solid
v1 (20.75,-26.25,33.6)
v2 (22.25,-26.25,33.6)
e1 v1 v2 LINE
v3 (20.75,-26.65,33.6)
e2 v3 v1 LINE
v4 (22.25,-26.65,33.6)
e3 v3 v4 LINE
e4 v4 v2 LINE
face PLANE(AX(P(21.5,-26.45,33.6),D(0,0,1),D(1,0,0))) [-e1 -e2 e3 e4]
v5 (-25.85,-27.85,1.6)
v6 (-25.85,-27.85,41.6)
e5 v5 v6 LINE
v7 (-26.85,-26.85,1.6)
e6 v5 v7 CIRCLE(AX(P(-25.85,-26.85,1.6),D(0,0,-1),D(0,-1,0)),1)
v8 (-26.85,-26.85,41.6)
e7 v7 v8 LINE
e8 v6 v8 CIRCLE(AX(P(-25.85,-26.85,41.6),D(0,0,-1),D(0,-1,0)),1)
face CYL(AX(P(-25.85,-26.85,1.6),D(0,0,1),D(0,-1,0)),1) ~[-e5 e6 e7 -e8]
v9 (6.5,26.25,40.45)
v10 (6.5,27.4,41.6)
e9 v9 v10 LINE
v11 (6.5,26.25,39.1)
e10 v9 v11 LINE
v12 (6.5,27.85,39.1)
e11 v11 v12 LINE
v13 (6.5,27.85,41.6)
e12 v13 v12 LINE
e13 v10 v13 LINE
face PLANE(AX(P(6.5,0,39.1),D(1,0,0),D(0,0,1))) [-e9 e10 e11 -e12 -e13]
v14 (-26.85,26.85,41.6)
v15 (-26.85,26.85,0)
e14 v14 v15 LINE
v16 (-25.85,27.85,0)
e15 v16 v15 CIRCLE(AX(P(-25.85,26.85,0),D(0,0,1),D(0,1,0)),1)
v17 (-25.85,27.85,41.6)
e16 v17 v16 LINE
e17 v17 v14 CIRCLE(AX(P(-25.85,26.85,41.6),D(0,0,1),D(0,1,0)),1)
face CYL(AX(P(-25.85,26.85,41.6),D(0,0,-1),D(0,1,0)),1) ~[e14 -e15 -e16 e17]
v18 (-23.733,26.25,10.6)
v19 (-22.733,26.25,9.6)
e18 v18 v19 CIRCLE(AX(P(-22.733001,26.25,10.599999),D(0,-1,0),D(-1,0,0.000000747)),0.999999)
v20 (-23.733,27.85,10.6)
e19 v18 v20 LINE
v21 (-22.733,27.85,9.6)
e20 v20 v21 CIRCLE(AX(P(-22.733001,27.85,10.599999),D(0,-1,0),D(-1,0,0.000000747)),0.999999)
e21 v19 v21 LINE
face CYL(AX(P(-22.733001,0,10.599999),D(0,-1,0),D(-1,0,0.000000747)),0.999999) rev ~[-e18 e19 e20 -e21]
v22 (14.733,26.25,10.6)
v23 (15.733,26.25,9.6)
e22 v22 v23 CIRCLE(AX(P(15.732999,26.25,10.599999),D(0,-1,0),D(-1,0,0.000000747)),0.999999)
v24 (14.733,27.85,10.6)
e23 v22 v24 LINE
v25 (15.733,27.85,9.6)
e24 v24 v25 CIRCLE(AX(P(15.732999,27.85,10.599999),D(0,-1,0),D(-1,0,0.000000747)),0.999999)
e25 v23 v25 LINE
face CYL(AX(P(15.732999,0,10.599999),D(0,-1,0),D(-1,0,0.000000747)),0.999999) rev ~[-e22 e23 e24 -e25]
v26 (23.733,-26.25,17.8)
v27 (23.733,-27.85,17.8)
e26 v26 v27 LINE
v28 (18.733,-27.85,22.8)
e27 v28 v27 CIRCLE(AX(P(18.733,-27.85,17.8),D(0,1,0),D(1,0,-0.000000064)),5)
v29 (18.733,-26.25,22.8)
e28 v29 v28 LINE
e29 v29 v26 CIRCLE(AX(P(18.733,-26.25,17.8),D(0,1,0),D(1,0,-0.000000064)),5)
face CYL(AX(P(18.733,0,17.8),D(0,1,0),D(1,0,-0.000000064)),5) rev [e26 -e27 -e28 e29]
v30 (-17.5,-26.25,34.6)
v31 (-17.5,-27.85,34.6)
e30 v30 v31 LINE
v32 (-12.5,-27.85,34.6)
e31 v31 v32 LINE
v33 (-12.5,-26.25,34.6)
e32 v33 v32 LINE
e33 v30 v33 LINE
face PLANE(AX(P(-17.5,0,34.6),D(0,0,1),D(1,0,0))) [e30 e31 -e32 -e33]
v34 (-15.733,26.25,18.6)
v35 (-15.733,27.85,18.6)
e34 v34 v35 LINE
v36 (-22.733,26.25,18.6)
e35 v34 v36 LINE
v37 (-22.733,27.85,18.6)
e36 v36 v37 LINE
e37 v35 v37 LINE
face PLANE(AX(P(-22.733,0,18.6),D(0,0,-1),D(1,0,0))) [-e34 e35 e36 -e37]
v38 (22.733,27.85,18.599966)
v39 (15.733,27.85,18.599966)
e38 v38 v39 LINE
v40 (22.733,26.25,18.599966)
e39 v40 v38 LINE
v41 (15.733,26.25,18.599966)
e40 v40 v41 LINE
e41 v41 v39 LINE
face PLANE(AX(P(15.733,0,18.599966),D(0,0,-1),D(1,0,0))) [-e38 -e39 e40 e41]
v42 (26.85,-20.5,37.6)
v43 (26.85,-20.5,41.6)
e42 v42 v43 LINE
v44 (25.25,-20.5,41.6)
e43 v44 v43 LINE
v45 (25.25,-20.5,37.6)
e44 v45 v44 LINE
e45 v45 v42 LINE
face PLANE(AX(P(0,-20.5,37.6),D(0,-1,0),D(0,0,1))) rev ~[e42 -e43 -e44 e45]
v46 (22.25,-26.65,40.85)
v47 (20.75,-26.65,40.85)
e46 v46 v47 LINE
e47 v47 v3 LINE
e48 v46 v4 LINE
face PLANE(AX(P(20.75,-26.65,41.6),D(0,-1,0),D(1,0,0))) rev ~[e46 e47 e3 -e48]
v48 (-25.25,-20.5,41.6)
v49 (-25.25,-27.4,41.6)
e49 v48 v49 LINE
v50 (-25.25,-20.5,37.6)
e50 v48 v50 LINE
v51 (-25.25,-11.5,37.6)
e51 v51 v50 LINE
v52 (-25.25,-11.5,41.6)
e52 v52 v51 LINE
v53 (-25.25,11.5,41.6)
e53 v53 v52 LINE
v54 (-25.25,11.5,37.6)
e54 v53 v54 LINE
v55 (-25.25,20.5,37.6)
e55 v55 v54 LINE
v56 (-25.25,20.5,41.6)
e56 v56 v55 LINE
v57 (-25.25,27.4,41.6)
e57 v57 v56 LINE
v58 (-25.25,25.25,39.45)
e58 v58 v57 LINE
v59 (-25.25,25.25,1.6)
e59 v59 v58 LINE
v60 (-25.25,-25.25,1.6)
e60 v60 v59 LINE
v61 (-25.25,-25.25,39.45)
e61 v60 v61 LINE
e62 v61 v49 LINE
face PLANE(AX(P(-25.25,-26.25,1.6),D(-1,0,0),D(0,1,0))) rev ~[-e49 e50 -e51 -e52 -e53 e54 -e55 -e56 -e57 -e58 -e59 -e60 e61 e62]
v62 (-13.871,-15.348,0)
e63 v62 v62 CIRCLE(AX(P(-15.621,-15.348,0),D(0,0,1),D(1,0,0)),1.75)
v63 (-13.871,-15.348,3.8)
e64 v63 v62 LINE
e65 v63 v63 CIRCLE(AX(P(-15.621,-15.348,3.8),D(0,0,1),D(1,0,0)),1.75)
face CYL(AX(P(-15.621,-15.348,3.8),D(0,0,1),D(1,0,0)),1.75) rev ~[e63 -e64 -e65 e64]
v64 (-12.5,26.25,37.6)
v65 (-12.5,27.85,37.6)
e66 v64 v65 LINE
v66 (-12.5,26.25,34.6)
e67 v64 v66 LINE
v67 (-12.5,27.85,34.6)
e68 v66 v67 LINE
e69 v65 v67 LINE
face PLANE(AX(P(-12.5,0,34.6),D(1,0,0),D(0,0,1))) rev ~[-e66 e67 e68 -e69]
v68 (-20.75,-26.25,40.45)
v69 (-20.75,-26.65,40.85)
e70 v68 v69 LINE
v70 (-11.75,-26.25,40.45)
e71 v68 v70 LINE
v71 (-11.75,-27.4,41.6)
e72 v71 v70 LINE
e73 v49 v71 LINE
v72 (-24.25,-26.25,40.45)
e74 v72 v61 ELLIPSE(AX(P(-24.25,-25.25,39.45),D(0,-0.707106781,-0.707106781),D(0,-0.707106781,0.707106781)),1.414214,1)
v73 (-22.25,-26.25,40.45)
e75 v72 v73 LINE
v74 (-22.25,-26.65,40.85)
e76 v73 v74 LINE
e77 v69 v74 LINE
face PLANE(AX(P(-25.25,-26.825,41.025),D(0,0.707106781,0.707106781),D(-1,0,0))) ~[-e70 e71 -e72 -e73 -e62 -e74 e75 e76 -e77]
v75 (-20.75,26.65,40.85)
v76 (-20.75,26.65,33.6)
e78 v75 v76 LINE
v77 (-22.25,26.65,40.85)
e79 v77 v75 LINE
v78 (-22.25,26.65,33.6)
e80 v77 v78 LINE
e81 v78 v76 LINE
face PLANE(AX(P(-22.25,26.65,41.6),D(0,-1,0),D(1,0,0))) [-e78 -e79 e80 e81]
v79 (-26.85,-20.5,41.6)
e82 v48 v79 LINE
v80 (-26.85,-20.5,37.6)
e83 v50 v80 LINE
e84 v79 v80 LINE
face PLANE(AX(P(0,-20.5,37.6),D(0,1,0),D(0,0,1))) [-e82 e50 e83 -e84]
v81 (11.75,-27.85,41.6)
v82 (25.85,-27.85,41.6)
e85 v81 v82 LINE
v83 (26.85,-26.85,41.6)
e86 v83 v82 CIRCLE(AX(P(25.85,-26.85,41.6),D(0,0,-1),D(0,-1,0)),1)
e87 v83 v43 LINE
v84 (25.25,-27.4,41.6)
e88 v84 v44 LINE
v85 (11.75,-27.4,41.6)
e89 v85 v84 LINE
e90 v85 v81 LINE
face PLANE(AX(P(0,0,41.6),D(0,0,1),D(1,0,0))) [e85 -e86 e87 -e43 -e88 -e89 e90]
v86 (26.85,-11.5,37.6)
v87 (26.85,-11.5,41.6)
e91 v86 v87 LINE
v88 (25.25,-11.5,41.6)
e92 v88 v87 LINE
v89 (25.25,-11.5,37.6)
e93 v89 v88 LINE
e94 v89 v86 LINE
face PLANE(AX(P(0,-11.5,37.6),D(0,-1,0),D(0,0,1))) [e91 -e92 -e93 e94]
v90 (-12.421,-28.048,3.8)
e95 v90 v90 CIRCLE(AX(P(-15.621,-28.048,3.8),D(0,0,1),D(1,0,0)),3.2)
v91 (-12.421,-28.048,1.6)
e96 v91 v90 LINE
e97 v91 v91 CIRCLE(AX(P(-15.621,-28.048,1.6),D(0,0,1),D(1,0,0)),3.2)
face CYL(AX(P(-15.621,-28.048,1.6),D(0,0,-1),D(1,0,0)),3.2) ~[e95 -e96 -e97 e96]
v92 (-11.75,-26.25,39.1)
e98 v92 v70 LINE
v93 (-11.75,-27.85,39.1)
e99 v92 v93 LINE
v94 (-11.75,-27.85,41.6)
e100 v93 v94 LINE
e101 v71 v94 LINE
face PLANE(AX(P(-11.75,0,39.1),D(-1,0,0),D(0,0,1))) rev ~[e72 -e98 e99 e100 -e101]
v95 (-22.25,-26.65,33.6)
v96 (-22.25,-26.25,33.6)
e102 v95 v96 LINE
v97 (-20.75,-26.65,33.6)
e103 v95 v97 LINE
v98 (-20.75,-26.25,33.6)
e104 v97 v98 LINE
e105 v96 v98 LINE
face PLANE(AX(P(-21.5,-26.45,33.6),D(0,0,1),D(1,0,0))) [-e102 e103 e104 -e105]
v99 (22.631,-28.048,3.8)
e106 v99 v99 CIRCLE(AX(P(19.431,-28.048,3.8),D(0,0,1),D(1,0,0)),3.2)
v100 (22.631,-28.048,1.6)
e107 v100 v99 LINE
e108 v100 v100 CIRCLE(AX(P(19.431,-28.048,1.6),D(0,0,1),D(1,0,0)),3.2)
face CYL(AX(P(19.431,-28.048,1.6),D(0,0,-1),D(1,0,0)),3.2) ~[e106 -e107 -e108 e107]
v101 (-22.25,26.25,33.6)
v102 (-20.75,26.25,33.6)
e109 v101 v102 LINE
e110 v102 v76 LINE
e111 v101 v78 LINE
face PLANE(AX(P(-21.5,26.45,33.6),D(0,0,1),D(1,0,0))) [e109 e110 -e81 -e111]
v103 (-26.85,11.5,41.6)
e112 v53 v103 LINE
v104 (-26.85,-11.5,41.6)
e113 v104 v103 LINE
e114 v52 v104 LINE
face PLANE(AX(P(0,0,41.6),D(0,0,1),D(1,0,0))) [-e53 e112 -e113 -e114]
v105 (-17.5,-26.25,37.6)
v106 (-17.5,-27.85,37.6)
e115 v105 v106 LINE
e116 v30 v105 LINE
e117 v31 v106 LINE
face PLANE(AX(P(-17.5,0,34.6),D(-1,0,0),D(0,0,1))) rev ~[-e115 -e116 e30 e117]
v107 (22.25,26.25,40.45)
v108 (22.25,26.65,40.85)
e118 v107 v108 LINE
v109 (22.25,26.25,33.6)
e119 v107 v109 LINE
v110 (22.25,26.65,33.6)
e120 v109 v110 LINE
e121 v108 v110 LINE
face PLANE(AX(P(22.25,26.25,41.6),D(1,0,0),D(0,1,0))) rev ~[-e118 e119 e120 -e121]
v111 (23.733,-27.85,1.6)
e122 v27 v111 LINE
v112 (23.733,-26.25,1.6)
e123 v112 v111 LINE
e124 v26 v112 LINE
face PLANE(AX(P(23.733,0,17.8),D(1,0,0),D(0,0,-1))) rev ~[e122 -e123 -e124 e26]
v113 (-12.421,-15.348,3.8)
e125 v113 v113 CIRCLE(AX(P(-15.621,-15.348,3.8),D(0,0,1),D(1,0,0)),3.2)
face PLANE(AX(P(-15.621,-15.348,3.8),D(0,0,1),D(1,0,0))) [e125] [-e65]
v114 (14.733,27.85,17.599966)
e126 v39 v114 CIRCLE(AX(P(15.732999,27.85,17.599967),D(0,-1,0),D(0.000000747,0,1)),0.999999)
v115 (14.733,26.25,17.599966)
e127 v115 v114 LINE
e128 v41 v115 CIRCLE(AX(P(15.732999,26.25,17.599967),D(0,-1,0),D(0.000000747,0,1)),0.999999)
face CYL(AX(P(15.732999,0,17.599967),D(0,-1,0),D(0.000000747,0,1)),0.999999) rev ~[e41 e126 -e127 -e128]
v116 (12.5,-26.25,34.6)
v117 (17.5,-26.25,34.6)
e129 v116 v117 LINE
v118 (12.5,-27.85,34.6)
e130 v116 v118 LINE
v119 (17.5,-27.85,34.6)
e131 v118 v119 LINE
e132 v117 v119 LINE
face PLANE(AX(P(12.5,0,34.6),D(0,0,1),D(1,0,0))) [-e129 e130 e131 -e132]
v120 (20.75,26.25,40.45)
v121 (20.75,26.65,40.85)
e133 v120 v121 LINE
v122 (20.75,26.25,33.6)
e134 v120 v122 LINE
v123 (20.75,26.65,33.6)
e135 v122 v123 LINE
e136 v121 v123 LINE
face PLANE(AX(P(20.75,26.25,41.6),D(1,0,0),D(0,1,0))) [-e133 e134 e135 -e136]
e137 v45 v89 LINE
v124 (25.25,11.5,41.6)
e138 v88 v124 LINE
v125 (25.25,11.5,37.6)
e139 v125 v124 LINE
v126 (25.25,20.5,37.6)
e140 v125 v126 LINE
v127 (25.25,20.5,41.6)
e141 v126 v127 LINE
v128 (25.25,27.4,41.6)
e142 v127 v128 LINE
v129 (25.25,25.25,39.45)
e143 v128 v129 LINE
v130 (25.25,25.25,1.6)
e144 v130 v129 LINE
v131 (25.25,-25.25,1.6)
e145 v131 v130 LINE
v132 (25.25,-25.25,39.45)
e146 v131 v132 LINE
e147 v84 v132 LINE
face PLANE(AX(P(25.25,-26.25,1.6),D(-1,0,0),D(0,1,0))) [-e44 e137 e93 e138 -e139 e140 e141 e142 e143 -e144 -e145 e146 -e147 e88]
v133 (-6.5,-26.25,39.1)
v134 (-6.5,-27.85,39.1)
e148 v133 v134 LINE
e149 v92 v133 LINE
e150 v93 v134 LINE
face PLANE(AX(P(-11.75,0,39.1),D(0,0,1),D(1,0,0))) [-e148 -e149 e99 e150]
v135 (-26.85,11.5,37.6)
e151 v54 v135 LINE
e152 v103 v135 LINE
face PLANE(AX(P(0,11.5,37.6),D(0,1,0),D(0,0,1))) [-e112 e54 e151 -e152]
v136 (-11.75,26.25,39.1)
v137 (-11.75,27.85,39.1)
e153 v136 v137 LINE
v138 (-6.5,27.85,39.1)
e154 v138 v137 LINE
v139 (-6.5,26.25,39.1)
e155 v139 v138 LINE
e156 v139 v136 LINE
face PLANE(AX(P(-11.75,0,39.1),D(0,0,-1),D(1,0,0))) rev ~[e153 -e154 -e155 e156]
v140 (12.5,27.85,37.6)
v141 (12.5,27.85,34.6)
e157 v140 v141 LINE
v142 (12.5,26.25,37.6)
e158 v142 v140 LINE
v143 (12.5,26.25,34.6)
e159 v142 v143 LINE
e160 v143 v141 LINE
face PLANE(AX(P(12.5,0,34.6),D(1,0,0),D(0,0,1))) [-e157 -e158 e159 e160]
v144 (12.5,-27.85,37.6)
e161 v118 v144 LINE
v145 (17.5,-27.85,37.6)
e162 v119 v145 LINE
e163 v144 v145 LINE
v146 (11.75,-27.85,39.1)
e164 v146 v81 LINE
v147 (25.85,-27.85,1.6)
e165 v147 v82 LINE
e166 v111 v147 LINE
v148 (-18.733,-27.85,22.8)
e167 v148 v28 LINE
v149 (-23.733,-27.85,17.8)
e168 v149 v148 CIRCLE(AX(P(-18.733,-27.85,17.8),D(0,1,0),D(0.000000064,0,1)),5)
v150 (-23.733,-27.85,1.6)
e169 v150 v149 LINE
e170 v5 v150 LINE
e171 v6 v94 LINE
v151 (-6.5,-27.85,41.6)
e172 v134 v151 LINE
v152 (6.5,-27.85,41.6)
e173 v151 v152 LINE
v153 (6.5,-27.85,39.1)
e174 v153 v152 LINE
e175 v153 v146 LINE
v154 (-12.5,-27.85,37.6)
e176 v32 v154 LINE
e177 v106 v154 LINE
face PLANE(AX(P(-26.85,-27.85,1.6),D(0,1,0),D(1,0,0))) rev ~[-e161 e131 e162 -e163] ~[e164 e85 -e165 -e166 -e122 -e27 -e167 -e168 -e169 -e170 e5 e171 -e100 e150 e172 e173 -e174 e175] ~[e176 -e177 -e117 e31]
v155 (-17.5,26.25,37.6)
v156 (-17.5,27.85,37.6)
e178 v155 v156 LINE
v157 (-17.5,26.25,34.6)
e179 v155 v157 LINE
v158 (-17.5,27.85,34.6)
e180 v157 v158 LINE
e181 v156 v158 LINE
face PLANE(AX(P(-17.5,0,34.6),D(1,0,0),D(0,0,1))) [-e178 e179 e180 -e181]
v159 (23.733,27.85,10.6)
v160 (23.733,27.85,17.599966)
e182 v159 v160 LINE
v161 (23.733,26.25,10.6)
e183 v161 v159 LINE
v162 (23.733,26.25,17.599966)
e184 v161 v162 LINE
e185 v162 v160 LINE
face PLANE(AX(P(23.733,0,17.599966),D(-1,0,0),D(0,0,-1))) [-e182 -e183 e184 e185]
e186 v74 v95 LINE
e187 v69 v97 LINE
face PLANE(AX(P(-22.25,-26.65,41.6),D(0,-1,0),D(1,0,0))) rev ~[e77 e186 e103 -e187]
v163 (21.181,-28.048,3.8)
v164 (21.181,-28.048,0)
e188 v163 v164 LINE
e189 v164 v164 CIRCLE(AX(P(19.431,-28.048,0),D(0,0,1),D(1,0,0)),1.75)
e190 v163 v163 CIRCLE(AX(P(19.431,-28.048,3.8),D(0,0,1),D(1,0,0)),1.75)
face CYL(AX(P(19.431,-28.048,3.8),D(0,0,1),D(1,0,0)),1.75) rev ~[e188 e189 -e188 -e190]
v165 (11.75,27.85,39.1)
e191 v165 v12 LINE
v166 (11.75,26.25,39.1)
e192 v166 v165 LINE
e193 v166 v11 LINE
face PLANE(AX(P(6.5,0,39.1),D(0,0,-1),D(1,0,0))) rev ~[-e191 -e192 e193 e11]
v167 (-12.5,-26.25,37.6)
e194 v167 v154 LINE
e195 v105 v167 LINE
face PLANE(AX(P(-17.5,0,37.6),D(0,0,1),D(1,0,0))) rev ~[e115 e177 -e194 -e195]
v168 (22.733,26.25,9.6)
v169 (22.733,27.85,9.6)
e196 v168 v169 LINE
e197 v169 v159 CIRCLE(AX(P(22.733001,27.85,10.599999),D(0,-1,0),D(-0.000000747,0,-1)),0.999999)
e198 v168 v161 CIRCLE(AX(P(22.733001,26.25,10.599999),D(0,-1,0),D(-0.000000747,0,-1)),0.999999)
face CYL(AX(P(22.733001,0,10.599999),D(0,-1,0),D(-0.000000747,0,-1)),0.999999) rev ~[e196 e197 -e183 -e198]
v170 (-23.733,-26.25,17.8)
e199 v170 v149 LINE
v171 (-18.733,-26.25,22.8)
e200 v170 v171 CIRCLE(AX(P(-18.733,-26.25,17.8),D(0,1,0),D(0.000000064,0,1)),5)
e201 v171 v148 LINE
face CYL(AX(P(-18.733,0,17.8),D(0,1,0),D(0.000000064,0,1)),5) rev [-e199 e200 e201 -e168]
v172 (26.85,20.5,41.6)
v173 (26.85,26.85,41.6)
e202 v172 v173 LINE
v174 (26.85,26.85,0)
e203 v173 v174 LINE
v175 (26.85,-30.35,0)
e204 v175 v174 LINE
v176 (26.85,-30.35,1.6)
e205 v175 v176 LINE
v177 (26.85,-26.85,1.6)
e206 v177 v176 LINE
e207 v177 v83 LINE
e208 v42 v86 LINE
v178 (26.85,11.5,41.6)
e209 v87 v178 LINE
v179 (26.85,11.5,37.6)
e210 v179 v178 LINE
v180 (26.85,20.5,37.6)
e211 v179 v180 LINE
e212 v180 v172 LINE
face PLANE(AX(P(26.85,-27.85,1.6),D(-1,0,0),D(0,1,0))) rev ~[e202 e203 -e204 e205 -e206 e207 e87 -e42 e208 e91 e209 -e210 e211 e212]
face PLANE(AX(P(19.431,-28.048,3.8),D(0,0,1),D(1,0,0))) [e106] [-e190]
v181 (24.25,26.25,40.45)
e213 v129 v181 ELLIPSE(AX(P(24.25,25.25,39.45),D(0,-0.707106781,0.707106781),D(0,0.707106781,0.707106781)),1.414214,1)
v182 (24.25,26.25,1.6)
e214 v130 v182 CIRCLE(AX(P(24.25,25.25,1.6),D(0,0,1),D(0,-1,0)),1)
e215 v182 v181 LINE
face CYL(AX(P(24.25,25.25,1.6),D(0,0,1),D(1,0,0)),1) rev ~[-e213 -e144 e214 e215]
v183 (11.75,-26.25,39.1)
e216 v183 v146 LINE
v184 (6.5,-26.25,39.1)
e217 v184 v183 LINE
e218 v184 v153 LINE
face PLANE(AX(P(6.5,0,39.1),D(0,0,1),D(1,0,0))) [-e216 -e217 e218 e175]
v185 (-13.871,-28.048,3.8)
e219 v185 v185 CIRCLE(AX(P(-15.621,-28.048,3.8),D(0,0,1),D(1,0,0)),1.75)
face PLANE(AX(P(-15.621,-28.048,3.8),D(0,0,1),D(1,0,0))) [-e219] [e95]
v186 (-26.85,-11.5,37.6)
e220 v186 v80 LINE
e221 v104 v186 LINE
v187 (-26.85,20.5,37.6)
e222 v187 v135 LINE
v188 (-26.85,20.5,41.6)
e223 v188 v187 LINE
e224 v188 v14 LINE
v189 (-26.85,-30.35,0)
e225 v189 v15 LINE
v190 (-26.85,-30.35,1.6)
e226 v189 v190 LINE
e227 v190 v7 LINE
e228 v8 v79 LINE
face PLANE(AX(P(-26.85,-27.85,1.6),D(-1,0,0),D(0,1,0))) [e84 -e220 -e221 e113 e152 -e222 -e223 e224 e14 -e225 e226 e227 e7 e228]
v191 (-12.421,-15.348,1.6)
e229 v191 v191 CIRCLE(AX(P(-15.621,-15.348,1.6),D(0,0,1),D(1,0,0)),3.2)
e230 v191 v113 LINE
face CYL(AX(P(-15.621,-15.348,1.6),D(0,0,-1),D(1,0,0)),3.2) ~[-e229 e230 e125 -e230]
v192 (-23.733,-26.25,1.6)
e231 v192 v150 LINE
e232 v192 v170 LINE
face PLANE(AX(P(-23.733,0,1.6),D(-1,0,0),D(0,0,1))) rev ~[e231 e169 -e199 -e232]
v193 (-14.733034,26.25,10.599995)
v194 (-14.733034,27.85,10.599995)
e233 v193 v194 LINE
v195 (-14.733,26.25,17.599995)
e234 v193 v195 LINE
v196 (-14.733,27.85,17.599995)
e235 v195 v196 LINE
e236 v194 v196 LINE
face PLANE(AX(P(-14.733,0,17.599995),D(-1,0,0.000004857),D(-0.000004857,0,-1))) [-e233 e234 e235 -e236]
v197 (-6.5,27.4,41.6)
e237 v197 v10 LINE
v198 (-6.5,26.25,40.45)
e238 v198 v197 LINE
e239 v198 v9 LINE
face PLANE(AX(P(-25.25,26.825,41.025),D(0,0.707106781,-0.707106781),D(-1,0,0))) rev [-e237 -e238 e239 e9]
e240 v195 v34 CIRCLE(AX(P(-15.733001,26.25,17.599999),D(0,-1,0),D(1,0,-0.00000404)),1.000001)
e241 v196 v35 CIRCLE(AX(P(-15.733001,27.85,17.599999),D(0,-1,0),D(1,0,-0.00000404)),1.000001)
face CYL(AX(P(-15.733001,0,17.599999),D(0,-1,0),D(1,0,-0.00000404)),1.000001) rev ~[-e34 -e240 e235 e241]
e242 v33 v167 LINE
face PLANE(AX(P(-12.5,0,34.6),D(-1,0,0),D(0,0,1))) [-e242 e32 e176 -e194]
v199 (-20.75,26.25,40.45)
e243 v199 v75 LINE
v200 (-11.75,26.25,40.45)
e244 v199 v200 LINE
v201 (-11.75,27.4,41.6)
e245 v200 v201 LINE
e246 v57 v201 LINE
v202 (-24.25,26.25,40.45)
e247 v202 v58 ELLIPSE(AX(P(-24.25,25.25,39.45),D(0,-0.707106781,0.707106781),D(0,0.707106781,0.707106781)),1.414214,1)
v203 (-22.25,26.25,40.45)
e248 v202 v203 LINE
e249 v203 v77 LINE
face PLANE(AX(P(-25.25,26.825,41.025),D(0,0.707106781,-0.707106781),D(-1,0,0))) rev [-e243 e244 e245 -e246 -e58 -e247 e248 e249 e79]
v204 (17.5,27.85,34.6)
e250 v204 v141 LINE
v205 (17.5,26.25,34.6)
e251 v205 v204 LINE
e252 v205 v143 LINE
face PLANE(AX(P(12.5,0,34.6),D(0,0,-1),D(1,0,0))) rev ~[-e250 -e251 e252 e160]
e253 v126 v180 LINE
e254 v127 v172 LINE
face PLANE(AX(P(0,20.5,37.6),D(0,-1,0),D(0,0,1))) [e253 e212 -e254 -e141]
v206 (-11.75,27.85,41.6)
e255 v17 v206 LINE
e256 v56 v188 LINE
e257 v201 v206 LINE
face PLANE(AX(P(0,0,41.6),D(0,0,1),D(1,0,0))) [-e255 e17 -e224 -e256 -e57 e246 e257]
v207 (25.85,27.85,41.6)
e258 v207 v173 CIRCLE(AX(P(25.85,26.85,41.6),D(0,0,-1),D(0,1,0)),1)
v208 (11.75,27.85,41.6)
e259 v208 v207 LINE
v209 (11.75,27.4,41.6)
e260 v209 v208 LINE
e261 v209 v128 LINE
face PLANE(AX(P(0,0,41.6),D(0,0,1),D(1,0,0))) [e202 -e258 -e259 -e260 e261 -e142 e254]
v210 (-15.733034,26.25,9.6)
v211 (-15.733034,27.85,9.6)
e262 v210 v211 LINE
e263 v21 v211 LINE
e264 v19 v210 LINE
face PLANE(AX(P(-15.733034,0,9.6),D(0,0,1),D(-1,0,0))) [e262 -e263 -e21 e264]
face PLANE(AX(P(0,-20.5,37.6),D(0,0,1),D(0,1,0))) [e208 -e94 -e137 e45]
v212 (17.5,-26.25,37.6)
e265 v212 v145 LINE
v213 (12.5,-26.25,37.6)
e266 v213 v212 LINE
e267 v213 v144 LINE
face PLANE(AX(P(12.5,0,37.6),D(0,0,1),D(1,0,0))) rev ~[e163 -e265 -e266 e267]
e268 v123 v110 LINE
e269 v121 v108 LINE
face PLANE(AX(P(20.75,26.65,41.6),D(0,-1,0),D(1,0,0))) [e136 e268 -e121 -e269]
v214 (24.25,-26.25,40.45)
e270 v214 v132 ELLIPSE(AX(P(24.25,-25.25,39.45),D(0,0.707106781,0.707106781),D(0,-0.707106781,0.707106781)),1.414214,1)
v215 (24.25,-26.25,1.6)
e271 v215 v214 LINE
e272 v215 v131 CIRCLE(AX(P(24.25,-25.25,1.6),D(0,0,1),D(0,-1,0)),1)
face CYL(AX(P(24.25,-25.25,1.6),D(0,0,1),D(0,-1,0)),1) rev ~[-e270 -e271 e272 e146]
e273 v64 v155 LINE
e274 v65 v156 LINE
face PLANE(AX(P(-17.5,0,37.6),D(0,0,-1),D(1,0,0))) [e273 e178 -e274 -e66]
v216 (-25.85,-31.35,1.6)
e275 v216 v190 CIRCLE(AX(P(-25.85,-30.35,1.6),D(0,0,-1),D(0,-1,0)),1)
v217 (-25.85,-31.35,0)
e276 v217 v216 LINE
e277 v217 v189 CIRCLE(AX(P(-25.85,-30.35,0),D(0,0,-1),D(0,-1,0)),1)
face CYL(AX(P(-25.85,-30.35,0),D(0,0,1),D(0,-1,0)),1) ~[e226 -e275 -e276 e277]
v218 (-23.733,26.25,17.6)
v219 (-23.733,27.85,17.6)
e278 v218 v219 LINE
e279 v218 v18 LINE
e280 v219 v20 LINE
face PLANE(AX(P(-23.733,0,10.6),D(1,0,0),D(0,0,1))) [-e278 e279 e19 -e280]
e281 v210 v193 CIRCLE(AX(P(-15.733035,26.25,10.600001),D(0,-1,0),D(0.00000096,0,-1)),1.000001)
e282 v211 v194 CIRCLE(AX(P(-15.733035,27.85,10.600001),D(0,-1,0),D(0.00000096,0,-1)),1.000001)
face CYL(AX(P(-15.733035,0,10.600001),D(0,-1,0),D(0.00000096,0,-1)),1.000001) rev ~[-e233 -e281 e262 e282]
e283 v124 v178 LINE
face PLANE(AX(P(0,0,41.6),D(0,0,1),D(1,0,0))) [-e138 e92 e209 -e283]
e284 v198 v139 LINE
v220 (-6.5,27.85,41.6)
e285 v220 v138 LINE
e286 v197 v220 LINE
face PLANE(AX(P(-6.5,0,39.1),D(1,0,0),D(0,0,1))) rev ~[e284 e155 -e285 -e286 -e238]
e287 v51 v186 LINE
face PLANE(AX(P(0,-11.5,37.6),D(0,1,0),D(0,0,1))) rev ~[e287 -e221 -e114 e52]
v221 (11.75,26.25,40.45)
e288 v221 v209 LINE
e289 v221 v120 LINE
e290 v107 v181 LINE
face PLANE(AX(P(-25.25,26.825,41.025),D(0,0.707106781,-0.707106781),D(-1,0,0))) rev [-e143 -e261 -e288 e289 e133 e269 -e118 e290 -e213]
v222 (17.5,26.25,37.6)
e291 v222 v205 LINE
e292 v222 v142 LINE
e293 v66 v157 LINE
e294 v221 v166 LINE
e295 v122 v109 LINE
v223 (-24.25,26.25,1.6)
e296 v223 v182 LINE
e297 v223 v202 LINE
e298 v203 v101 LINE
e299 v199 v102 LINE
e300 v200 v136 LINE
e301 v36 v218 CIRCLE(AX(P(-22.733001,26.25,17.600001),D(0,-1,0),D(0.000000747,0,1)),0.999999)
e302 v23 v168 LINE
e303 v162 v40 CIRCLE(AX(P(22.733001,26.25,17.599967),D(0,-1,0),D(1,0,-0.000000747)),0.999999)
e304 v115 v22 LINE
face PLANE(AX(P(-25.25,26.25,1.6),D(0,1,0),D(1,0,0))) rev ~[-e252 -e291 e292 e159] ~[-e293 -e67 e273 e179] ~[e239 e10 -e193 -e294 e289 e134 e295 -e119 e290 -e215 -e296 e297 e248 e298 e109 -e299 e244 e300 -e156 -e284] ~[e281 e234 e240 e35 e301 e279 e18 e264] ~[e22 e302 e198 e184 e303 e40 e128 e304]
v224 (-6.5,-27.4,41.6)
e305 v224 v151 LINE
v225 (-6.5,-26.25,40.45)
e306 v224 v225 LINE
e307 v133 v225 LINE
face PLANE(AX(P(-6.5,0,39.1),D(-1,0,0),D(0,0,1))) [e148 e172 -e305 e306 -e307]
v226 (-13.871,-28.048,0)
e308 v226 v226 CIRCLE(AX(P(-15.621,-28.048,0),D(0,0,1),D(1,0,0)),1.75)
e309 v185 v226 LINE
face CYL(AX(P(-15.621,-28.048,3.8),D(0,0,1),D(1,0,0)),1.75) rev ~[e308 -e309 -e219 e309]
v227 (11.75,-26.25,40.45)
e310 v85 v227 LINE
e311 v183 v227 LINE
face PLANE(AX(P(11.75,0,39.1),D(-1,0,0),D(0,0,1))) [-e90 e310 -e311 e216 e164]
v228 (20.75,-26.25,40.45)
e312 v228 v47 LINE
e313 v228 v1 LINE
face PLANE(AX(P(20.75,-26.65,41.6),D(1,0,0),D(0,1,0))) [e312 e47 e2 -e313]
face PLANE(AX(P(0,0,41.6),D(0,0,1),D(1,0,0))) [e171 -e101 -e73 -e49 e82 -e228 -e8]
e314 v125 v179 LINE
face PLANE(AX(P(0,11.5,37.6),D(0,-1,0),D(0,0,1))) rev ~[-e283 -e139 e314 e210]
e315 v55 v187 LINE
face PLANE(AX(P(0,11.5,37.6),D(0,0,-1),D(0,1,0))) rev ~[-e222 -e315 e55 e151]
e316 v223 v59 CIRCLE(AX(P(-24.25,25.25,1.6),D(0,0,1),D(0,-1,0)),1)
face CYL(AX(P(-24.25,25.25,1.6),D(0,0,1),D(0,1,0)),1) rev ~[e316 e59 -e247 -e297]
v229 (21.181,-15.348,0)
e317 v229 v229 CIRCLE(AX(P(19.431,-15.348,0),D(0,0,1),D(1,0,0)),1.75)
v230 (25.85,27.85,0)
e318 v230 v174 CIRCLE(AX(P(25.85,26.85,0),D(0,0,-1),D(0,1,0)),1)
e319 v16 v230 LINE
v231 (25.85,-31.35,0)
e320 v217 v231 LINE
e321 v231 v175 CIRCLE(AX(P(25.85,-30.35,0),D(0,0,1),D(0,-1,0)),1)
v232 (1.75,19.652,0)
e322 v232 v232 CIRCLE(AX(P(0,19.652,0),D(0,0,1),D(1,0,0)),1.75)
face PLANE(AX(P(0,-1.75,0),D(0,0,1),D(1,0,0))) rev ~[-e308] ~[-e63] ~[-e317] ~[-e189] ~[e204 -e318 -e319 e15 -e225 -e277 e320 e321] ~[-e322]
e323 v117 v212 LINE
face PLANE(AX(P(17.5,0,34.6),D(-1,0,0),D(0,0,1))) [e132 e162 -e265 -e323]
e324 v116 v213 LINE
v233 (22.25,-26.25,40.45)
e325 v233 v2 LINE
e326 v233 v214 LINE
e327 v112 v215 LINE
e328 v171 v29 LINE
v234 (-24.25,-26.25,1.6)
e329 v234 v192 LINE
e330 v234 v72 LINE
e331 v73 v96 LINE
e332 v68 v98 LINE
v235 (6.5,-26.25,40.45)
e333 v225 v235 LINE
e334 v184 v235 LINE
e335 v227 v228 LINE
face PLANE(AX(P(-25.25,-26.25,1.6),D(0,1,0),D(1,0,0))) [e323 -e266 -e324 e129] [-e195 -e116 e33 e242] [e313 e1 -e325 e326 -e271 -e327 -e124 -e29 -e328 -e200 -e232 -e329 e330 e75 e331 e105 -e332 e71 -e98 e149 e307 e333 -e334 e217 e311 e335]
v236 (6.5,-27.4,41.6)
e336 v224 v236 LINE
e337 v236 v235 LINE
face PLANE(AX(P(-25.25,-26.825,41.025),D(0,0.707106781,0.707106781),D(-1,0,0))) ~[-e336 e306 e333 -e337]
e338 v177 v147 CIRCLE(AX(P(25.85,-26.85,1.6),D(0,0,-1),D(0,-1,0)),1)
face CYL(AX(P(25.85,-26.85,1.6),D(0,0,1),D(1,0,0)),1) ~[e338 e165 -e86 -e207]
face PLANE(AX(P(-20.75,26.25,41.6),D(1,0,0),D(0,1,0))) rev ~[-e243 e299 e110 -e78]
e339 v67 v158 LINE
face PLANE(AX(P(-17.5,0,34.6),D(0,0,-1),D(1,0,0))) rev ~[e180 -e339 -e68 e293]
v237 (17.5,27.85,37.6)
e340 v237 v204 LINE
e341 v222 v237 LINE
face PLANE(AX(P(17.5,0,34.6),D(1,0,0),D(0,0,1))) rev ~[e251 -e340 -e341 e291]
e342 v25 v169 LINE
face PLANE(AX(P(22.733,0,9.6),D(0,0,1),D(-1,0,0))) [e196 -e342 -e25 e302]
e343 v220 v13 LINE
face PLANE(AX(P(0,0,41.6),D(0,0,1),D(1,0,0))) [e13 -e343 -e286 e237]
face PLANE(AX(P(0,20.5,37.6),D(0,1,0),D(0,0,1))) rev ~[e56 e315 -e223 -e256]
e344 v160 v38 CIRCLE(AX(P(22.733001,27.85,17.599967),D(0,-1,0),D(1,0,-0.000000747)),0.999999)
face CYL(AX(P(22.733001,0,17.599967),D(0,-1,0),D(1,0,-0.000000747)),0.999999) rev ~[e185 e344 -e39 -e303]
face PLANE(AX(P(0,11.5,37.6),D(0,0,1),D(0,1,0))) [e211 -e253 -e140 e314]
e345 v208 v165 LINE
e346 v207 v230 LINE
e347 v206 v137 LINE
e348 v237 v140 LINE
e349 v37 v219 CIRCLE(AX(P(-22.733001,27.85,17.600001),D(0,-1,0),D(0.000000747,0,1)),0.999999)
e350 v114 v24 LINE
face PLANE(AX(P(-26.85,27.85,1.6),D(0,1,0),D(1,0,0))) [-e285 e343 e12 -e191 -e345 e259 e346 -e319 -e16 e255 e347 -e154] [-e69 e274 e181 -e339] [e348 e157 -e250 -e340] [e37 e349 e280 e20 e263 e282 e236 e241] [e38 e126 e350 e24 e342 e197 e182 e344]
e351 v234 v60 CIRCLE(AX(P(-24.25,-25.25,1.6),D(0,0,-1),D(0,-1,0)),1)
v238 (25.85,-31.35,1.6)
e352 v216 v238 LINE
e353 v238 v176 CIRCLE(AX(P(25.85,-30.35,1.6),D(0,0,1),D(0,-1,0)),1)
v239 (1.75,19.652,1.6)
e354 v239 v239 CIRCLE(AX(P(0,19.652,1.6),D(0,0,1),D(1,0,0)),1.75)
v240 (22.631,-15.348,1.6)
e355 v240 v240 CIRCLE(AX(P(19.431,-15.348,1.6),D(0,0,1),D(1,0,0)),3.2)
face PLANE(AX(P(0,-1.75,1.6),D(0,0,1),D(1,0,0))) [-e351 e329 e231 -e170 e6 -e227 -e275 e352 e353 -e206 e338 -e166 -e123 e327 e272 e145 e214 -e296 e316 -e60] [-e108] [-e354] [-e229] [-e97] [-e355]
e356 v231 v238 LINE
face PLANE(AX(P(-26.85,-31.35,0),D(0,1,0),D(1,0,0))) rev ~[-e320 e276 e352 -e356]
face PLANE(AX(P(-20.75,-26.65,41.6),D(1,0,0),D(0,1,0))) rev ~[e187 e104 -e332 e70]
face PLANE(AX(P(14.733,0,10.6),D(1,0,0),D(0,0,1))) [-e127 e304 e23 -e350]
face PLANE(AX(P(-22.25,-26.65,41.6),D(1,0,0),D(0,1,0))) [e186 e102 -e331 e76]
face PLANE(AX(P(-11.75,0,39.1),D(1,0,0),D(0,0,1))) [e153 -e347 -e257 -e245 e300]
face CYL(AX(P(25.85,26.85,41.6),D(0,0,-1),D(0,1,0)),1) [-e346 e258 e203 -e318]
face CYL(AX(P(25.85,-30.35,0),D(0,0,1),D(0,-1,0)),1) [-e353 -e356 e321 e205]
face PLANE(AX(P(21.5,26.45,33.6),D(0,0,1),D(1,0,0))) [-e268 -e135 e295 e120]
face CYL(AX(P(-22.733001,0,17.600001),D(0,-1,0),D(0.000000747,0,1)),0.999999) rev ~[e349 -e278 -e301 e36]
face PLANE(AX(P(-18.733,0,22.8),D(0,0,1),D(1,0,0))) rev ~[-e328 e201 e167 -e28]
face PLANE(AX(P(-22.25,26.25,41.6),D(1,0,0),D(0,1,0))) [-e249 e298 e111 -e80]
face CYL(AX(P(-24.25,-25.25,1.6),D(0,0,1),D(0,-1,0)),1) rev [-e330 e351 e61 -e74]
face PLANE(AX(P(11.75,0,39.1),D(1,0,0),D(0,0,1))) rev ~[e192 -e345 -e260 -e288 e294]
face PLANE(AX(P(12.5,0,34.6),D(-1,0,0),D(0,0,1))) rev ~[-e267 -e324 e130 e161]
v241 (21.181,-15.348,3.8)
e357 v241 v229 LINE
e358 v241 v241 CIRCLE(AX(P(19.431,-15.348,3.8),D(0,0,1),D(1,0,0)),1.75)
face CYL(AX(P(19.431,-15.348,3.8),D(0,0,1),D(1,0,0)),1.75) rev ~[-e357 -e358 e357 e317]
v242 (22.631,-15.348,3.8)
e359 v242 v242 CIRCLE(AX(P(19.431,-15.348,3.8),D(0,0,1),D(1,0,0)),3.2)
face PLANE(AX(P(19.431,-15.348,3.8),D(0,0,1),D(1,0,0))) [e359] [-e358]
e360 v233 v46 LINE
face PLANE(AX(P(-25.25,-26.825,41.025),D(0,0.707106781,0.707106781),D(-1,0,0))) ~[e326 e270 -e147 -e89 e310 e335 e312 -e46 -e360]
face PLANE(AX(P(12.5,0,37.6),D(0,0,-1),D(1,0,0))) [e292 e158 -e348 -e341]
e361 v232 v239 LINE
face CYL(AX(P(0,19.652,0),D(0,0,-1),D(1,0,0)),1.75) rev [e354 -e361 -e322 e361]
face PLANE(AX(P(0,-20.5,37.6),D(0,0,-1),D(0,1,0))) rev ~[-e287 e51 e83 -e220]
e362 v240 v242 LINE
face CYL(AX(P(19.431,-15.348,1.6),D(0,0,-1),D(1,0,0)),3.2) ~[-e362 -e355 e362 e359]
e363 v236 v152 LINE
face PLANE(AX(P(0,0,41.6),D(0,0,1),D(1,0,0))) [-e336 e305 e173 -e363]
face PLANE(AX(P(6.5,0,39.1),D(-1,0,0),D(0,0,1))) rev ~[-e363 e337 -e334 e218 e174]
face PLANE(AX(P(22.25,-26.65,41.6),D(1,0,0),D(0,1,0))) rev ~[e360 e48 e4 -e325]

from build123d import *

# Parameters (mm, degrees)
SKETCH054_W          = 53.7
SKETCH054_H          = 59.2
SKETCH054_R          = 1.75
PAD015_DEPTH         = 1.6
SKETCH055_W          = 53.7
SKETCH055_H          = 55.7
SKETCH055_W_2        = 50.5
SKETCH055_H_2        = 52.5
PAD016_DEPTH         = 40
CHAMFER002_SIZE      = 1.15
FILLET006_R          = 1
SKETCH056_W          = 5
SKETCH056_H          = 3
SKETCH056_W_2        = 5.25
SKETCH056_H_2        = 2.5
POCKET016_DEPTH      = 27.851
POCKET016_DEPTH_BACK = 31.351
POCKET017_DEPTH      = 31.351
POCKET022_DEPTH      = 27.851
SKETCH058_W          = 9
SKETCH058_H          = 4
POCKET018_DEPTH      = 26.851
POCKET018_DEPTH_BACK = 26.851
SKETCH059_R          = 3.2
PAD017_DEPTH         = 2.2
SKETCH060_R          = 1.75
POCKET019_DEPTH      = 3.801
SKETCH061_W          = 1.5
SKETCH061_H          = 0.4
POCKET020_DEPTH      = 8


with BuildPart() as part:
    # Sketch054 → Pad015 (new body)
    with BuildSketch(Plane.XY):
        with Locations((0, -1.75)):
            Rectangle(SKETCH054_W, SKETCH054_H)
        with Locations((0, 19.652)):
            Circle(SKETCH054_R, mode=Mode.SUBTRACT)
    extrude(amount=PAD015_DEPTH)

    # Sketch055 → Pad016 (join)
    with BuildSketch(Plane.XY.offset(1.6)):
        Rectangle(SKETCH055_W, SKETCH055_H)
        Rectangle(SKETCH055_W_2, SKETCH055_H_2, mode=Mode.SUBTRACT)
    extrude(amount=PAD016_DEPTH)

    # Chamfer002
    chamfer002_edges = [part.edges().sort_by_distance(p)[0] for p in [
        (0, 26.25, 41.6),
        (0, -26.25, 41.6),
    ]]
    chamfer(chamfer002_edges, length=CHAMFER002_SIZE)

    # Fillet006
    fillet006_edges = [part.edges().sort_by_distance(p)[0] for p in [
        (-25.25, -26.25, 21.025),
        (-26.85, -27.85, 21.6),
        (-25.25, 26.25, 21.025),
        (-26.85, 27.85, 21.6),
        (25.25, 26.25, 21.025),
        (26.85, 27.85, 21.6),
        (25.25, -26.25, 21.025),
        (26.85, -27.85, 21.6),
        (-26.85, -31.35, 0.8),
        (26.85, -31.35, 0.8),
    ]]
    fillet(fillet006_edges, radius=FILLET006_R)

    # Sketch056 → Pocket016 (cut, two sides)
    with BuildSketch(Plane.XZ) as pocket016_sk:
        with Locations((-15, 36.1)):
            Rectangle(SKETCH056_W, SKETCH056_H)
        with Locations((15, 36.1)):
            Rectangle(SKETCH056_W, SKETCH056_H)
        with Locations((-9.125, 40.35)):
            Rectangle(SKETCH056_W_2, SKETCH056_H_2)
        with Locations((9.125, 40.35)):
            Rectangle(SKETCH056_W_2, SKETCH056_H_2)
    extrude(amount=-POCKET016_DEPTH, mode=Mode.SUBTRACT)
    extrude(pocket016_sk.sketch, amount=POCKET016_DEPTH_BACK, mode=Mode.SUBTRACT)

    # Sketch057 → Pocket017 (cut, through all)
    with BuildSketch(Plane.XZ):
        with BuildLine():
            Line((23.733, 17.8), (23.733, 1.6))
            Line((23.733, 1.6), (-23.733, 1.6))
            Line((-23.733, 1.6), (-23.733, 17.8))
            ThreePointArc((-18.733, 22.8), (-22.268534, 21.335534), (-23.733, 17.8))
            Line((-18.733, 22.8), (18.733, 22.8))
            ThreePointArc((23.733, 17.8), (22.268534, 21.335534), (18.733, 22.8))
        make_face()
    extrude(amount=POCKET017_DEPTH, mode=Mode.SUBTRACT)

    # Sketch063 → Pocket022 (cut, through all)
    with BuildSketch(Plane.XZ):
        with BuildLine():
            Line((-22.733, 18.6), (-15.733, 18.6))
            ThreePointArc((-14.733, 17.599995), (-15.025892, 18.307105), (-15.733, 18.6))
            Line((-14.733, 17.599995), (-14.733034, 10.599995))
            ThreePointArc((-15.733034, 9.6), (-15.025929, 9.892892), (-14.733034, 10.599995))
            Line((-15.733034, 9.6), (-22.733, 9.6))
            ThreePointArc((-23.733, 10.6), (-23.440107, 9.892893), (-22.733, 9.6))
            Line((-23.733, 10.6), (-23.733, 17.6))
            ThreePointArc((-22.733, 18.6), (-23.440107, 18.307107), (-23.733, 17.6))
        make_face()
        with BuildLine():
            Line((15.733, 18.599966), (22.733, 18.599966))
            ThreePointArc((23.733, 17.599966), (23.440107, 18.307073), (22.733, 18.599966))
            Line((23.733, 17.599966), (23.733, 10.6))
            ThreePointArc((22.733, 9.6), (23.440107, 9.892893), (23.733, 10.6))
            Line((22.733, 9.6), (15.733, 9.6))
            ThreePointArc((14.733, 10.6), (15.025893, 9.892893), (15.733, 9.6))
            Line((14.733, 10.6), (14.733, 17.599966))
            ThreePointArc((15.733, 18.599966), (15.025893, 18.307073), (14.733, 17.599966))
        make_face()
    extrude(amount=-POCKET022_DEPTH, mode=Mode.SUBTRACT)

    # Sketch058 → Pocket018 (cut, two sides)
    with BuildSketch(Plane.YZ) as pocket018_sk:
        with Locations((-16, 39.6)):
            Rectangle(SKETCH058_W, SKETCH058_H)
        with Locations((16, 39.6)):
            Rectangle(SKETCH058_W, SKETCH058_H)
    extrude(amount=-POCKET018_DEPTH, mode=Mode.SUBTRACT)
    extrude(pocket018_sk.sketch, amount=POCKET018_DEPTH_BACK, mode=Mode.SUBTRACT)

    # Sketch059 → Pad017 (join)
    with BuildSketch(Plane.XY.offset(1.6)):
        with Locations((-15.621, -15.348)):
            Circle(SKETCH059_R)
        with Locations((19.431, -15.348)):
            Circle(SKETCH059_R)
        with Locations((19.431, -28.048)):
            Circle(SKETCH059_R)
        with Locations((-15.621, -28.048)):
            Circle(SKETCH059_R)
    extrude(amount=PAD017_DEPTH)

    # Sketch060 → Pocket019 (cut, through all)
    with BuildSketch(Plane.XY.offset(3.8)):
        with Locations((-15.621, -15.348)):
            Circle(SKETCH060_R)
        with Locations((19.431, -15.348)):
            Circle(SKETCH060_R)
        with Locations((19.431, -28.048)):
            Circle(SKETCH060_R)
        with Locations((-15.621, -28.048)):
            Circle(SKETCH060_R)
    extrude(amount=-POCKET019_DEPTH, mode=Mode.SUBTRACT)

    # Sketch061 → Pocket020 (cut)
    with BuildSketch(Plane.XY.offset(41.6)):
        with Locations((-21.5, 26.45)):
            Rectangle(SKETCH061_W, SKETCH061_H)
        with Locations((21.5, 26.45)):
            Rectangle(SKETCH061_W, SKETCH061_H)
        with Locations((21.5, -26.45)):
            Rectangle(SKETCH061_W, SKETCH061_H)
        with Locations((-21.5, -26.45)):
            Rectangle(SKETCH061_W, SKETCH061_H)
    extrude(amount=-POCKET020_DEPTH, mode=Mode.SUBTRACT)


solid = part.part
